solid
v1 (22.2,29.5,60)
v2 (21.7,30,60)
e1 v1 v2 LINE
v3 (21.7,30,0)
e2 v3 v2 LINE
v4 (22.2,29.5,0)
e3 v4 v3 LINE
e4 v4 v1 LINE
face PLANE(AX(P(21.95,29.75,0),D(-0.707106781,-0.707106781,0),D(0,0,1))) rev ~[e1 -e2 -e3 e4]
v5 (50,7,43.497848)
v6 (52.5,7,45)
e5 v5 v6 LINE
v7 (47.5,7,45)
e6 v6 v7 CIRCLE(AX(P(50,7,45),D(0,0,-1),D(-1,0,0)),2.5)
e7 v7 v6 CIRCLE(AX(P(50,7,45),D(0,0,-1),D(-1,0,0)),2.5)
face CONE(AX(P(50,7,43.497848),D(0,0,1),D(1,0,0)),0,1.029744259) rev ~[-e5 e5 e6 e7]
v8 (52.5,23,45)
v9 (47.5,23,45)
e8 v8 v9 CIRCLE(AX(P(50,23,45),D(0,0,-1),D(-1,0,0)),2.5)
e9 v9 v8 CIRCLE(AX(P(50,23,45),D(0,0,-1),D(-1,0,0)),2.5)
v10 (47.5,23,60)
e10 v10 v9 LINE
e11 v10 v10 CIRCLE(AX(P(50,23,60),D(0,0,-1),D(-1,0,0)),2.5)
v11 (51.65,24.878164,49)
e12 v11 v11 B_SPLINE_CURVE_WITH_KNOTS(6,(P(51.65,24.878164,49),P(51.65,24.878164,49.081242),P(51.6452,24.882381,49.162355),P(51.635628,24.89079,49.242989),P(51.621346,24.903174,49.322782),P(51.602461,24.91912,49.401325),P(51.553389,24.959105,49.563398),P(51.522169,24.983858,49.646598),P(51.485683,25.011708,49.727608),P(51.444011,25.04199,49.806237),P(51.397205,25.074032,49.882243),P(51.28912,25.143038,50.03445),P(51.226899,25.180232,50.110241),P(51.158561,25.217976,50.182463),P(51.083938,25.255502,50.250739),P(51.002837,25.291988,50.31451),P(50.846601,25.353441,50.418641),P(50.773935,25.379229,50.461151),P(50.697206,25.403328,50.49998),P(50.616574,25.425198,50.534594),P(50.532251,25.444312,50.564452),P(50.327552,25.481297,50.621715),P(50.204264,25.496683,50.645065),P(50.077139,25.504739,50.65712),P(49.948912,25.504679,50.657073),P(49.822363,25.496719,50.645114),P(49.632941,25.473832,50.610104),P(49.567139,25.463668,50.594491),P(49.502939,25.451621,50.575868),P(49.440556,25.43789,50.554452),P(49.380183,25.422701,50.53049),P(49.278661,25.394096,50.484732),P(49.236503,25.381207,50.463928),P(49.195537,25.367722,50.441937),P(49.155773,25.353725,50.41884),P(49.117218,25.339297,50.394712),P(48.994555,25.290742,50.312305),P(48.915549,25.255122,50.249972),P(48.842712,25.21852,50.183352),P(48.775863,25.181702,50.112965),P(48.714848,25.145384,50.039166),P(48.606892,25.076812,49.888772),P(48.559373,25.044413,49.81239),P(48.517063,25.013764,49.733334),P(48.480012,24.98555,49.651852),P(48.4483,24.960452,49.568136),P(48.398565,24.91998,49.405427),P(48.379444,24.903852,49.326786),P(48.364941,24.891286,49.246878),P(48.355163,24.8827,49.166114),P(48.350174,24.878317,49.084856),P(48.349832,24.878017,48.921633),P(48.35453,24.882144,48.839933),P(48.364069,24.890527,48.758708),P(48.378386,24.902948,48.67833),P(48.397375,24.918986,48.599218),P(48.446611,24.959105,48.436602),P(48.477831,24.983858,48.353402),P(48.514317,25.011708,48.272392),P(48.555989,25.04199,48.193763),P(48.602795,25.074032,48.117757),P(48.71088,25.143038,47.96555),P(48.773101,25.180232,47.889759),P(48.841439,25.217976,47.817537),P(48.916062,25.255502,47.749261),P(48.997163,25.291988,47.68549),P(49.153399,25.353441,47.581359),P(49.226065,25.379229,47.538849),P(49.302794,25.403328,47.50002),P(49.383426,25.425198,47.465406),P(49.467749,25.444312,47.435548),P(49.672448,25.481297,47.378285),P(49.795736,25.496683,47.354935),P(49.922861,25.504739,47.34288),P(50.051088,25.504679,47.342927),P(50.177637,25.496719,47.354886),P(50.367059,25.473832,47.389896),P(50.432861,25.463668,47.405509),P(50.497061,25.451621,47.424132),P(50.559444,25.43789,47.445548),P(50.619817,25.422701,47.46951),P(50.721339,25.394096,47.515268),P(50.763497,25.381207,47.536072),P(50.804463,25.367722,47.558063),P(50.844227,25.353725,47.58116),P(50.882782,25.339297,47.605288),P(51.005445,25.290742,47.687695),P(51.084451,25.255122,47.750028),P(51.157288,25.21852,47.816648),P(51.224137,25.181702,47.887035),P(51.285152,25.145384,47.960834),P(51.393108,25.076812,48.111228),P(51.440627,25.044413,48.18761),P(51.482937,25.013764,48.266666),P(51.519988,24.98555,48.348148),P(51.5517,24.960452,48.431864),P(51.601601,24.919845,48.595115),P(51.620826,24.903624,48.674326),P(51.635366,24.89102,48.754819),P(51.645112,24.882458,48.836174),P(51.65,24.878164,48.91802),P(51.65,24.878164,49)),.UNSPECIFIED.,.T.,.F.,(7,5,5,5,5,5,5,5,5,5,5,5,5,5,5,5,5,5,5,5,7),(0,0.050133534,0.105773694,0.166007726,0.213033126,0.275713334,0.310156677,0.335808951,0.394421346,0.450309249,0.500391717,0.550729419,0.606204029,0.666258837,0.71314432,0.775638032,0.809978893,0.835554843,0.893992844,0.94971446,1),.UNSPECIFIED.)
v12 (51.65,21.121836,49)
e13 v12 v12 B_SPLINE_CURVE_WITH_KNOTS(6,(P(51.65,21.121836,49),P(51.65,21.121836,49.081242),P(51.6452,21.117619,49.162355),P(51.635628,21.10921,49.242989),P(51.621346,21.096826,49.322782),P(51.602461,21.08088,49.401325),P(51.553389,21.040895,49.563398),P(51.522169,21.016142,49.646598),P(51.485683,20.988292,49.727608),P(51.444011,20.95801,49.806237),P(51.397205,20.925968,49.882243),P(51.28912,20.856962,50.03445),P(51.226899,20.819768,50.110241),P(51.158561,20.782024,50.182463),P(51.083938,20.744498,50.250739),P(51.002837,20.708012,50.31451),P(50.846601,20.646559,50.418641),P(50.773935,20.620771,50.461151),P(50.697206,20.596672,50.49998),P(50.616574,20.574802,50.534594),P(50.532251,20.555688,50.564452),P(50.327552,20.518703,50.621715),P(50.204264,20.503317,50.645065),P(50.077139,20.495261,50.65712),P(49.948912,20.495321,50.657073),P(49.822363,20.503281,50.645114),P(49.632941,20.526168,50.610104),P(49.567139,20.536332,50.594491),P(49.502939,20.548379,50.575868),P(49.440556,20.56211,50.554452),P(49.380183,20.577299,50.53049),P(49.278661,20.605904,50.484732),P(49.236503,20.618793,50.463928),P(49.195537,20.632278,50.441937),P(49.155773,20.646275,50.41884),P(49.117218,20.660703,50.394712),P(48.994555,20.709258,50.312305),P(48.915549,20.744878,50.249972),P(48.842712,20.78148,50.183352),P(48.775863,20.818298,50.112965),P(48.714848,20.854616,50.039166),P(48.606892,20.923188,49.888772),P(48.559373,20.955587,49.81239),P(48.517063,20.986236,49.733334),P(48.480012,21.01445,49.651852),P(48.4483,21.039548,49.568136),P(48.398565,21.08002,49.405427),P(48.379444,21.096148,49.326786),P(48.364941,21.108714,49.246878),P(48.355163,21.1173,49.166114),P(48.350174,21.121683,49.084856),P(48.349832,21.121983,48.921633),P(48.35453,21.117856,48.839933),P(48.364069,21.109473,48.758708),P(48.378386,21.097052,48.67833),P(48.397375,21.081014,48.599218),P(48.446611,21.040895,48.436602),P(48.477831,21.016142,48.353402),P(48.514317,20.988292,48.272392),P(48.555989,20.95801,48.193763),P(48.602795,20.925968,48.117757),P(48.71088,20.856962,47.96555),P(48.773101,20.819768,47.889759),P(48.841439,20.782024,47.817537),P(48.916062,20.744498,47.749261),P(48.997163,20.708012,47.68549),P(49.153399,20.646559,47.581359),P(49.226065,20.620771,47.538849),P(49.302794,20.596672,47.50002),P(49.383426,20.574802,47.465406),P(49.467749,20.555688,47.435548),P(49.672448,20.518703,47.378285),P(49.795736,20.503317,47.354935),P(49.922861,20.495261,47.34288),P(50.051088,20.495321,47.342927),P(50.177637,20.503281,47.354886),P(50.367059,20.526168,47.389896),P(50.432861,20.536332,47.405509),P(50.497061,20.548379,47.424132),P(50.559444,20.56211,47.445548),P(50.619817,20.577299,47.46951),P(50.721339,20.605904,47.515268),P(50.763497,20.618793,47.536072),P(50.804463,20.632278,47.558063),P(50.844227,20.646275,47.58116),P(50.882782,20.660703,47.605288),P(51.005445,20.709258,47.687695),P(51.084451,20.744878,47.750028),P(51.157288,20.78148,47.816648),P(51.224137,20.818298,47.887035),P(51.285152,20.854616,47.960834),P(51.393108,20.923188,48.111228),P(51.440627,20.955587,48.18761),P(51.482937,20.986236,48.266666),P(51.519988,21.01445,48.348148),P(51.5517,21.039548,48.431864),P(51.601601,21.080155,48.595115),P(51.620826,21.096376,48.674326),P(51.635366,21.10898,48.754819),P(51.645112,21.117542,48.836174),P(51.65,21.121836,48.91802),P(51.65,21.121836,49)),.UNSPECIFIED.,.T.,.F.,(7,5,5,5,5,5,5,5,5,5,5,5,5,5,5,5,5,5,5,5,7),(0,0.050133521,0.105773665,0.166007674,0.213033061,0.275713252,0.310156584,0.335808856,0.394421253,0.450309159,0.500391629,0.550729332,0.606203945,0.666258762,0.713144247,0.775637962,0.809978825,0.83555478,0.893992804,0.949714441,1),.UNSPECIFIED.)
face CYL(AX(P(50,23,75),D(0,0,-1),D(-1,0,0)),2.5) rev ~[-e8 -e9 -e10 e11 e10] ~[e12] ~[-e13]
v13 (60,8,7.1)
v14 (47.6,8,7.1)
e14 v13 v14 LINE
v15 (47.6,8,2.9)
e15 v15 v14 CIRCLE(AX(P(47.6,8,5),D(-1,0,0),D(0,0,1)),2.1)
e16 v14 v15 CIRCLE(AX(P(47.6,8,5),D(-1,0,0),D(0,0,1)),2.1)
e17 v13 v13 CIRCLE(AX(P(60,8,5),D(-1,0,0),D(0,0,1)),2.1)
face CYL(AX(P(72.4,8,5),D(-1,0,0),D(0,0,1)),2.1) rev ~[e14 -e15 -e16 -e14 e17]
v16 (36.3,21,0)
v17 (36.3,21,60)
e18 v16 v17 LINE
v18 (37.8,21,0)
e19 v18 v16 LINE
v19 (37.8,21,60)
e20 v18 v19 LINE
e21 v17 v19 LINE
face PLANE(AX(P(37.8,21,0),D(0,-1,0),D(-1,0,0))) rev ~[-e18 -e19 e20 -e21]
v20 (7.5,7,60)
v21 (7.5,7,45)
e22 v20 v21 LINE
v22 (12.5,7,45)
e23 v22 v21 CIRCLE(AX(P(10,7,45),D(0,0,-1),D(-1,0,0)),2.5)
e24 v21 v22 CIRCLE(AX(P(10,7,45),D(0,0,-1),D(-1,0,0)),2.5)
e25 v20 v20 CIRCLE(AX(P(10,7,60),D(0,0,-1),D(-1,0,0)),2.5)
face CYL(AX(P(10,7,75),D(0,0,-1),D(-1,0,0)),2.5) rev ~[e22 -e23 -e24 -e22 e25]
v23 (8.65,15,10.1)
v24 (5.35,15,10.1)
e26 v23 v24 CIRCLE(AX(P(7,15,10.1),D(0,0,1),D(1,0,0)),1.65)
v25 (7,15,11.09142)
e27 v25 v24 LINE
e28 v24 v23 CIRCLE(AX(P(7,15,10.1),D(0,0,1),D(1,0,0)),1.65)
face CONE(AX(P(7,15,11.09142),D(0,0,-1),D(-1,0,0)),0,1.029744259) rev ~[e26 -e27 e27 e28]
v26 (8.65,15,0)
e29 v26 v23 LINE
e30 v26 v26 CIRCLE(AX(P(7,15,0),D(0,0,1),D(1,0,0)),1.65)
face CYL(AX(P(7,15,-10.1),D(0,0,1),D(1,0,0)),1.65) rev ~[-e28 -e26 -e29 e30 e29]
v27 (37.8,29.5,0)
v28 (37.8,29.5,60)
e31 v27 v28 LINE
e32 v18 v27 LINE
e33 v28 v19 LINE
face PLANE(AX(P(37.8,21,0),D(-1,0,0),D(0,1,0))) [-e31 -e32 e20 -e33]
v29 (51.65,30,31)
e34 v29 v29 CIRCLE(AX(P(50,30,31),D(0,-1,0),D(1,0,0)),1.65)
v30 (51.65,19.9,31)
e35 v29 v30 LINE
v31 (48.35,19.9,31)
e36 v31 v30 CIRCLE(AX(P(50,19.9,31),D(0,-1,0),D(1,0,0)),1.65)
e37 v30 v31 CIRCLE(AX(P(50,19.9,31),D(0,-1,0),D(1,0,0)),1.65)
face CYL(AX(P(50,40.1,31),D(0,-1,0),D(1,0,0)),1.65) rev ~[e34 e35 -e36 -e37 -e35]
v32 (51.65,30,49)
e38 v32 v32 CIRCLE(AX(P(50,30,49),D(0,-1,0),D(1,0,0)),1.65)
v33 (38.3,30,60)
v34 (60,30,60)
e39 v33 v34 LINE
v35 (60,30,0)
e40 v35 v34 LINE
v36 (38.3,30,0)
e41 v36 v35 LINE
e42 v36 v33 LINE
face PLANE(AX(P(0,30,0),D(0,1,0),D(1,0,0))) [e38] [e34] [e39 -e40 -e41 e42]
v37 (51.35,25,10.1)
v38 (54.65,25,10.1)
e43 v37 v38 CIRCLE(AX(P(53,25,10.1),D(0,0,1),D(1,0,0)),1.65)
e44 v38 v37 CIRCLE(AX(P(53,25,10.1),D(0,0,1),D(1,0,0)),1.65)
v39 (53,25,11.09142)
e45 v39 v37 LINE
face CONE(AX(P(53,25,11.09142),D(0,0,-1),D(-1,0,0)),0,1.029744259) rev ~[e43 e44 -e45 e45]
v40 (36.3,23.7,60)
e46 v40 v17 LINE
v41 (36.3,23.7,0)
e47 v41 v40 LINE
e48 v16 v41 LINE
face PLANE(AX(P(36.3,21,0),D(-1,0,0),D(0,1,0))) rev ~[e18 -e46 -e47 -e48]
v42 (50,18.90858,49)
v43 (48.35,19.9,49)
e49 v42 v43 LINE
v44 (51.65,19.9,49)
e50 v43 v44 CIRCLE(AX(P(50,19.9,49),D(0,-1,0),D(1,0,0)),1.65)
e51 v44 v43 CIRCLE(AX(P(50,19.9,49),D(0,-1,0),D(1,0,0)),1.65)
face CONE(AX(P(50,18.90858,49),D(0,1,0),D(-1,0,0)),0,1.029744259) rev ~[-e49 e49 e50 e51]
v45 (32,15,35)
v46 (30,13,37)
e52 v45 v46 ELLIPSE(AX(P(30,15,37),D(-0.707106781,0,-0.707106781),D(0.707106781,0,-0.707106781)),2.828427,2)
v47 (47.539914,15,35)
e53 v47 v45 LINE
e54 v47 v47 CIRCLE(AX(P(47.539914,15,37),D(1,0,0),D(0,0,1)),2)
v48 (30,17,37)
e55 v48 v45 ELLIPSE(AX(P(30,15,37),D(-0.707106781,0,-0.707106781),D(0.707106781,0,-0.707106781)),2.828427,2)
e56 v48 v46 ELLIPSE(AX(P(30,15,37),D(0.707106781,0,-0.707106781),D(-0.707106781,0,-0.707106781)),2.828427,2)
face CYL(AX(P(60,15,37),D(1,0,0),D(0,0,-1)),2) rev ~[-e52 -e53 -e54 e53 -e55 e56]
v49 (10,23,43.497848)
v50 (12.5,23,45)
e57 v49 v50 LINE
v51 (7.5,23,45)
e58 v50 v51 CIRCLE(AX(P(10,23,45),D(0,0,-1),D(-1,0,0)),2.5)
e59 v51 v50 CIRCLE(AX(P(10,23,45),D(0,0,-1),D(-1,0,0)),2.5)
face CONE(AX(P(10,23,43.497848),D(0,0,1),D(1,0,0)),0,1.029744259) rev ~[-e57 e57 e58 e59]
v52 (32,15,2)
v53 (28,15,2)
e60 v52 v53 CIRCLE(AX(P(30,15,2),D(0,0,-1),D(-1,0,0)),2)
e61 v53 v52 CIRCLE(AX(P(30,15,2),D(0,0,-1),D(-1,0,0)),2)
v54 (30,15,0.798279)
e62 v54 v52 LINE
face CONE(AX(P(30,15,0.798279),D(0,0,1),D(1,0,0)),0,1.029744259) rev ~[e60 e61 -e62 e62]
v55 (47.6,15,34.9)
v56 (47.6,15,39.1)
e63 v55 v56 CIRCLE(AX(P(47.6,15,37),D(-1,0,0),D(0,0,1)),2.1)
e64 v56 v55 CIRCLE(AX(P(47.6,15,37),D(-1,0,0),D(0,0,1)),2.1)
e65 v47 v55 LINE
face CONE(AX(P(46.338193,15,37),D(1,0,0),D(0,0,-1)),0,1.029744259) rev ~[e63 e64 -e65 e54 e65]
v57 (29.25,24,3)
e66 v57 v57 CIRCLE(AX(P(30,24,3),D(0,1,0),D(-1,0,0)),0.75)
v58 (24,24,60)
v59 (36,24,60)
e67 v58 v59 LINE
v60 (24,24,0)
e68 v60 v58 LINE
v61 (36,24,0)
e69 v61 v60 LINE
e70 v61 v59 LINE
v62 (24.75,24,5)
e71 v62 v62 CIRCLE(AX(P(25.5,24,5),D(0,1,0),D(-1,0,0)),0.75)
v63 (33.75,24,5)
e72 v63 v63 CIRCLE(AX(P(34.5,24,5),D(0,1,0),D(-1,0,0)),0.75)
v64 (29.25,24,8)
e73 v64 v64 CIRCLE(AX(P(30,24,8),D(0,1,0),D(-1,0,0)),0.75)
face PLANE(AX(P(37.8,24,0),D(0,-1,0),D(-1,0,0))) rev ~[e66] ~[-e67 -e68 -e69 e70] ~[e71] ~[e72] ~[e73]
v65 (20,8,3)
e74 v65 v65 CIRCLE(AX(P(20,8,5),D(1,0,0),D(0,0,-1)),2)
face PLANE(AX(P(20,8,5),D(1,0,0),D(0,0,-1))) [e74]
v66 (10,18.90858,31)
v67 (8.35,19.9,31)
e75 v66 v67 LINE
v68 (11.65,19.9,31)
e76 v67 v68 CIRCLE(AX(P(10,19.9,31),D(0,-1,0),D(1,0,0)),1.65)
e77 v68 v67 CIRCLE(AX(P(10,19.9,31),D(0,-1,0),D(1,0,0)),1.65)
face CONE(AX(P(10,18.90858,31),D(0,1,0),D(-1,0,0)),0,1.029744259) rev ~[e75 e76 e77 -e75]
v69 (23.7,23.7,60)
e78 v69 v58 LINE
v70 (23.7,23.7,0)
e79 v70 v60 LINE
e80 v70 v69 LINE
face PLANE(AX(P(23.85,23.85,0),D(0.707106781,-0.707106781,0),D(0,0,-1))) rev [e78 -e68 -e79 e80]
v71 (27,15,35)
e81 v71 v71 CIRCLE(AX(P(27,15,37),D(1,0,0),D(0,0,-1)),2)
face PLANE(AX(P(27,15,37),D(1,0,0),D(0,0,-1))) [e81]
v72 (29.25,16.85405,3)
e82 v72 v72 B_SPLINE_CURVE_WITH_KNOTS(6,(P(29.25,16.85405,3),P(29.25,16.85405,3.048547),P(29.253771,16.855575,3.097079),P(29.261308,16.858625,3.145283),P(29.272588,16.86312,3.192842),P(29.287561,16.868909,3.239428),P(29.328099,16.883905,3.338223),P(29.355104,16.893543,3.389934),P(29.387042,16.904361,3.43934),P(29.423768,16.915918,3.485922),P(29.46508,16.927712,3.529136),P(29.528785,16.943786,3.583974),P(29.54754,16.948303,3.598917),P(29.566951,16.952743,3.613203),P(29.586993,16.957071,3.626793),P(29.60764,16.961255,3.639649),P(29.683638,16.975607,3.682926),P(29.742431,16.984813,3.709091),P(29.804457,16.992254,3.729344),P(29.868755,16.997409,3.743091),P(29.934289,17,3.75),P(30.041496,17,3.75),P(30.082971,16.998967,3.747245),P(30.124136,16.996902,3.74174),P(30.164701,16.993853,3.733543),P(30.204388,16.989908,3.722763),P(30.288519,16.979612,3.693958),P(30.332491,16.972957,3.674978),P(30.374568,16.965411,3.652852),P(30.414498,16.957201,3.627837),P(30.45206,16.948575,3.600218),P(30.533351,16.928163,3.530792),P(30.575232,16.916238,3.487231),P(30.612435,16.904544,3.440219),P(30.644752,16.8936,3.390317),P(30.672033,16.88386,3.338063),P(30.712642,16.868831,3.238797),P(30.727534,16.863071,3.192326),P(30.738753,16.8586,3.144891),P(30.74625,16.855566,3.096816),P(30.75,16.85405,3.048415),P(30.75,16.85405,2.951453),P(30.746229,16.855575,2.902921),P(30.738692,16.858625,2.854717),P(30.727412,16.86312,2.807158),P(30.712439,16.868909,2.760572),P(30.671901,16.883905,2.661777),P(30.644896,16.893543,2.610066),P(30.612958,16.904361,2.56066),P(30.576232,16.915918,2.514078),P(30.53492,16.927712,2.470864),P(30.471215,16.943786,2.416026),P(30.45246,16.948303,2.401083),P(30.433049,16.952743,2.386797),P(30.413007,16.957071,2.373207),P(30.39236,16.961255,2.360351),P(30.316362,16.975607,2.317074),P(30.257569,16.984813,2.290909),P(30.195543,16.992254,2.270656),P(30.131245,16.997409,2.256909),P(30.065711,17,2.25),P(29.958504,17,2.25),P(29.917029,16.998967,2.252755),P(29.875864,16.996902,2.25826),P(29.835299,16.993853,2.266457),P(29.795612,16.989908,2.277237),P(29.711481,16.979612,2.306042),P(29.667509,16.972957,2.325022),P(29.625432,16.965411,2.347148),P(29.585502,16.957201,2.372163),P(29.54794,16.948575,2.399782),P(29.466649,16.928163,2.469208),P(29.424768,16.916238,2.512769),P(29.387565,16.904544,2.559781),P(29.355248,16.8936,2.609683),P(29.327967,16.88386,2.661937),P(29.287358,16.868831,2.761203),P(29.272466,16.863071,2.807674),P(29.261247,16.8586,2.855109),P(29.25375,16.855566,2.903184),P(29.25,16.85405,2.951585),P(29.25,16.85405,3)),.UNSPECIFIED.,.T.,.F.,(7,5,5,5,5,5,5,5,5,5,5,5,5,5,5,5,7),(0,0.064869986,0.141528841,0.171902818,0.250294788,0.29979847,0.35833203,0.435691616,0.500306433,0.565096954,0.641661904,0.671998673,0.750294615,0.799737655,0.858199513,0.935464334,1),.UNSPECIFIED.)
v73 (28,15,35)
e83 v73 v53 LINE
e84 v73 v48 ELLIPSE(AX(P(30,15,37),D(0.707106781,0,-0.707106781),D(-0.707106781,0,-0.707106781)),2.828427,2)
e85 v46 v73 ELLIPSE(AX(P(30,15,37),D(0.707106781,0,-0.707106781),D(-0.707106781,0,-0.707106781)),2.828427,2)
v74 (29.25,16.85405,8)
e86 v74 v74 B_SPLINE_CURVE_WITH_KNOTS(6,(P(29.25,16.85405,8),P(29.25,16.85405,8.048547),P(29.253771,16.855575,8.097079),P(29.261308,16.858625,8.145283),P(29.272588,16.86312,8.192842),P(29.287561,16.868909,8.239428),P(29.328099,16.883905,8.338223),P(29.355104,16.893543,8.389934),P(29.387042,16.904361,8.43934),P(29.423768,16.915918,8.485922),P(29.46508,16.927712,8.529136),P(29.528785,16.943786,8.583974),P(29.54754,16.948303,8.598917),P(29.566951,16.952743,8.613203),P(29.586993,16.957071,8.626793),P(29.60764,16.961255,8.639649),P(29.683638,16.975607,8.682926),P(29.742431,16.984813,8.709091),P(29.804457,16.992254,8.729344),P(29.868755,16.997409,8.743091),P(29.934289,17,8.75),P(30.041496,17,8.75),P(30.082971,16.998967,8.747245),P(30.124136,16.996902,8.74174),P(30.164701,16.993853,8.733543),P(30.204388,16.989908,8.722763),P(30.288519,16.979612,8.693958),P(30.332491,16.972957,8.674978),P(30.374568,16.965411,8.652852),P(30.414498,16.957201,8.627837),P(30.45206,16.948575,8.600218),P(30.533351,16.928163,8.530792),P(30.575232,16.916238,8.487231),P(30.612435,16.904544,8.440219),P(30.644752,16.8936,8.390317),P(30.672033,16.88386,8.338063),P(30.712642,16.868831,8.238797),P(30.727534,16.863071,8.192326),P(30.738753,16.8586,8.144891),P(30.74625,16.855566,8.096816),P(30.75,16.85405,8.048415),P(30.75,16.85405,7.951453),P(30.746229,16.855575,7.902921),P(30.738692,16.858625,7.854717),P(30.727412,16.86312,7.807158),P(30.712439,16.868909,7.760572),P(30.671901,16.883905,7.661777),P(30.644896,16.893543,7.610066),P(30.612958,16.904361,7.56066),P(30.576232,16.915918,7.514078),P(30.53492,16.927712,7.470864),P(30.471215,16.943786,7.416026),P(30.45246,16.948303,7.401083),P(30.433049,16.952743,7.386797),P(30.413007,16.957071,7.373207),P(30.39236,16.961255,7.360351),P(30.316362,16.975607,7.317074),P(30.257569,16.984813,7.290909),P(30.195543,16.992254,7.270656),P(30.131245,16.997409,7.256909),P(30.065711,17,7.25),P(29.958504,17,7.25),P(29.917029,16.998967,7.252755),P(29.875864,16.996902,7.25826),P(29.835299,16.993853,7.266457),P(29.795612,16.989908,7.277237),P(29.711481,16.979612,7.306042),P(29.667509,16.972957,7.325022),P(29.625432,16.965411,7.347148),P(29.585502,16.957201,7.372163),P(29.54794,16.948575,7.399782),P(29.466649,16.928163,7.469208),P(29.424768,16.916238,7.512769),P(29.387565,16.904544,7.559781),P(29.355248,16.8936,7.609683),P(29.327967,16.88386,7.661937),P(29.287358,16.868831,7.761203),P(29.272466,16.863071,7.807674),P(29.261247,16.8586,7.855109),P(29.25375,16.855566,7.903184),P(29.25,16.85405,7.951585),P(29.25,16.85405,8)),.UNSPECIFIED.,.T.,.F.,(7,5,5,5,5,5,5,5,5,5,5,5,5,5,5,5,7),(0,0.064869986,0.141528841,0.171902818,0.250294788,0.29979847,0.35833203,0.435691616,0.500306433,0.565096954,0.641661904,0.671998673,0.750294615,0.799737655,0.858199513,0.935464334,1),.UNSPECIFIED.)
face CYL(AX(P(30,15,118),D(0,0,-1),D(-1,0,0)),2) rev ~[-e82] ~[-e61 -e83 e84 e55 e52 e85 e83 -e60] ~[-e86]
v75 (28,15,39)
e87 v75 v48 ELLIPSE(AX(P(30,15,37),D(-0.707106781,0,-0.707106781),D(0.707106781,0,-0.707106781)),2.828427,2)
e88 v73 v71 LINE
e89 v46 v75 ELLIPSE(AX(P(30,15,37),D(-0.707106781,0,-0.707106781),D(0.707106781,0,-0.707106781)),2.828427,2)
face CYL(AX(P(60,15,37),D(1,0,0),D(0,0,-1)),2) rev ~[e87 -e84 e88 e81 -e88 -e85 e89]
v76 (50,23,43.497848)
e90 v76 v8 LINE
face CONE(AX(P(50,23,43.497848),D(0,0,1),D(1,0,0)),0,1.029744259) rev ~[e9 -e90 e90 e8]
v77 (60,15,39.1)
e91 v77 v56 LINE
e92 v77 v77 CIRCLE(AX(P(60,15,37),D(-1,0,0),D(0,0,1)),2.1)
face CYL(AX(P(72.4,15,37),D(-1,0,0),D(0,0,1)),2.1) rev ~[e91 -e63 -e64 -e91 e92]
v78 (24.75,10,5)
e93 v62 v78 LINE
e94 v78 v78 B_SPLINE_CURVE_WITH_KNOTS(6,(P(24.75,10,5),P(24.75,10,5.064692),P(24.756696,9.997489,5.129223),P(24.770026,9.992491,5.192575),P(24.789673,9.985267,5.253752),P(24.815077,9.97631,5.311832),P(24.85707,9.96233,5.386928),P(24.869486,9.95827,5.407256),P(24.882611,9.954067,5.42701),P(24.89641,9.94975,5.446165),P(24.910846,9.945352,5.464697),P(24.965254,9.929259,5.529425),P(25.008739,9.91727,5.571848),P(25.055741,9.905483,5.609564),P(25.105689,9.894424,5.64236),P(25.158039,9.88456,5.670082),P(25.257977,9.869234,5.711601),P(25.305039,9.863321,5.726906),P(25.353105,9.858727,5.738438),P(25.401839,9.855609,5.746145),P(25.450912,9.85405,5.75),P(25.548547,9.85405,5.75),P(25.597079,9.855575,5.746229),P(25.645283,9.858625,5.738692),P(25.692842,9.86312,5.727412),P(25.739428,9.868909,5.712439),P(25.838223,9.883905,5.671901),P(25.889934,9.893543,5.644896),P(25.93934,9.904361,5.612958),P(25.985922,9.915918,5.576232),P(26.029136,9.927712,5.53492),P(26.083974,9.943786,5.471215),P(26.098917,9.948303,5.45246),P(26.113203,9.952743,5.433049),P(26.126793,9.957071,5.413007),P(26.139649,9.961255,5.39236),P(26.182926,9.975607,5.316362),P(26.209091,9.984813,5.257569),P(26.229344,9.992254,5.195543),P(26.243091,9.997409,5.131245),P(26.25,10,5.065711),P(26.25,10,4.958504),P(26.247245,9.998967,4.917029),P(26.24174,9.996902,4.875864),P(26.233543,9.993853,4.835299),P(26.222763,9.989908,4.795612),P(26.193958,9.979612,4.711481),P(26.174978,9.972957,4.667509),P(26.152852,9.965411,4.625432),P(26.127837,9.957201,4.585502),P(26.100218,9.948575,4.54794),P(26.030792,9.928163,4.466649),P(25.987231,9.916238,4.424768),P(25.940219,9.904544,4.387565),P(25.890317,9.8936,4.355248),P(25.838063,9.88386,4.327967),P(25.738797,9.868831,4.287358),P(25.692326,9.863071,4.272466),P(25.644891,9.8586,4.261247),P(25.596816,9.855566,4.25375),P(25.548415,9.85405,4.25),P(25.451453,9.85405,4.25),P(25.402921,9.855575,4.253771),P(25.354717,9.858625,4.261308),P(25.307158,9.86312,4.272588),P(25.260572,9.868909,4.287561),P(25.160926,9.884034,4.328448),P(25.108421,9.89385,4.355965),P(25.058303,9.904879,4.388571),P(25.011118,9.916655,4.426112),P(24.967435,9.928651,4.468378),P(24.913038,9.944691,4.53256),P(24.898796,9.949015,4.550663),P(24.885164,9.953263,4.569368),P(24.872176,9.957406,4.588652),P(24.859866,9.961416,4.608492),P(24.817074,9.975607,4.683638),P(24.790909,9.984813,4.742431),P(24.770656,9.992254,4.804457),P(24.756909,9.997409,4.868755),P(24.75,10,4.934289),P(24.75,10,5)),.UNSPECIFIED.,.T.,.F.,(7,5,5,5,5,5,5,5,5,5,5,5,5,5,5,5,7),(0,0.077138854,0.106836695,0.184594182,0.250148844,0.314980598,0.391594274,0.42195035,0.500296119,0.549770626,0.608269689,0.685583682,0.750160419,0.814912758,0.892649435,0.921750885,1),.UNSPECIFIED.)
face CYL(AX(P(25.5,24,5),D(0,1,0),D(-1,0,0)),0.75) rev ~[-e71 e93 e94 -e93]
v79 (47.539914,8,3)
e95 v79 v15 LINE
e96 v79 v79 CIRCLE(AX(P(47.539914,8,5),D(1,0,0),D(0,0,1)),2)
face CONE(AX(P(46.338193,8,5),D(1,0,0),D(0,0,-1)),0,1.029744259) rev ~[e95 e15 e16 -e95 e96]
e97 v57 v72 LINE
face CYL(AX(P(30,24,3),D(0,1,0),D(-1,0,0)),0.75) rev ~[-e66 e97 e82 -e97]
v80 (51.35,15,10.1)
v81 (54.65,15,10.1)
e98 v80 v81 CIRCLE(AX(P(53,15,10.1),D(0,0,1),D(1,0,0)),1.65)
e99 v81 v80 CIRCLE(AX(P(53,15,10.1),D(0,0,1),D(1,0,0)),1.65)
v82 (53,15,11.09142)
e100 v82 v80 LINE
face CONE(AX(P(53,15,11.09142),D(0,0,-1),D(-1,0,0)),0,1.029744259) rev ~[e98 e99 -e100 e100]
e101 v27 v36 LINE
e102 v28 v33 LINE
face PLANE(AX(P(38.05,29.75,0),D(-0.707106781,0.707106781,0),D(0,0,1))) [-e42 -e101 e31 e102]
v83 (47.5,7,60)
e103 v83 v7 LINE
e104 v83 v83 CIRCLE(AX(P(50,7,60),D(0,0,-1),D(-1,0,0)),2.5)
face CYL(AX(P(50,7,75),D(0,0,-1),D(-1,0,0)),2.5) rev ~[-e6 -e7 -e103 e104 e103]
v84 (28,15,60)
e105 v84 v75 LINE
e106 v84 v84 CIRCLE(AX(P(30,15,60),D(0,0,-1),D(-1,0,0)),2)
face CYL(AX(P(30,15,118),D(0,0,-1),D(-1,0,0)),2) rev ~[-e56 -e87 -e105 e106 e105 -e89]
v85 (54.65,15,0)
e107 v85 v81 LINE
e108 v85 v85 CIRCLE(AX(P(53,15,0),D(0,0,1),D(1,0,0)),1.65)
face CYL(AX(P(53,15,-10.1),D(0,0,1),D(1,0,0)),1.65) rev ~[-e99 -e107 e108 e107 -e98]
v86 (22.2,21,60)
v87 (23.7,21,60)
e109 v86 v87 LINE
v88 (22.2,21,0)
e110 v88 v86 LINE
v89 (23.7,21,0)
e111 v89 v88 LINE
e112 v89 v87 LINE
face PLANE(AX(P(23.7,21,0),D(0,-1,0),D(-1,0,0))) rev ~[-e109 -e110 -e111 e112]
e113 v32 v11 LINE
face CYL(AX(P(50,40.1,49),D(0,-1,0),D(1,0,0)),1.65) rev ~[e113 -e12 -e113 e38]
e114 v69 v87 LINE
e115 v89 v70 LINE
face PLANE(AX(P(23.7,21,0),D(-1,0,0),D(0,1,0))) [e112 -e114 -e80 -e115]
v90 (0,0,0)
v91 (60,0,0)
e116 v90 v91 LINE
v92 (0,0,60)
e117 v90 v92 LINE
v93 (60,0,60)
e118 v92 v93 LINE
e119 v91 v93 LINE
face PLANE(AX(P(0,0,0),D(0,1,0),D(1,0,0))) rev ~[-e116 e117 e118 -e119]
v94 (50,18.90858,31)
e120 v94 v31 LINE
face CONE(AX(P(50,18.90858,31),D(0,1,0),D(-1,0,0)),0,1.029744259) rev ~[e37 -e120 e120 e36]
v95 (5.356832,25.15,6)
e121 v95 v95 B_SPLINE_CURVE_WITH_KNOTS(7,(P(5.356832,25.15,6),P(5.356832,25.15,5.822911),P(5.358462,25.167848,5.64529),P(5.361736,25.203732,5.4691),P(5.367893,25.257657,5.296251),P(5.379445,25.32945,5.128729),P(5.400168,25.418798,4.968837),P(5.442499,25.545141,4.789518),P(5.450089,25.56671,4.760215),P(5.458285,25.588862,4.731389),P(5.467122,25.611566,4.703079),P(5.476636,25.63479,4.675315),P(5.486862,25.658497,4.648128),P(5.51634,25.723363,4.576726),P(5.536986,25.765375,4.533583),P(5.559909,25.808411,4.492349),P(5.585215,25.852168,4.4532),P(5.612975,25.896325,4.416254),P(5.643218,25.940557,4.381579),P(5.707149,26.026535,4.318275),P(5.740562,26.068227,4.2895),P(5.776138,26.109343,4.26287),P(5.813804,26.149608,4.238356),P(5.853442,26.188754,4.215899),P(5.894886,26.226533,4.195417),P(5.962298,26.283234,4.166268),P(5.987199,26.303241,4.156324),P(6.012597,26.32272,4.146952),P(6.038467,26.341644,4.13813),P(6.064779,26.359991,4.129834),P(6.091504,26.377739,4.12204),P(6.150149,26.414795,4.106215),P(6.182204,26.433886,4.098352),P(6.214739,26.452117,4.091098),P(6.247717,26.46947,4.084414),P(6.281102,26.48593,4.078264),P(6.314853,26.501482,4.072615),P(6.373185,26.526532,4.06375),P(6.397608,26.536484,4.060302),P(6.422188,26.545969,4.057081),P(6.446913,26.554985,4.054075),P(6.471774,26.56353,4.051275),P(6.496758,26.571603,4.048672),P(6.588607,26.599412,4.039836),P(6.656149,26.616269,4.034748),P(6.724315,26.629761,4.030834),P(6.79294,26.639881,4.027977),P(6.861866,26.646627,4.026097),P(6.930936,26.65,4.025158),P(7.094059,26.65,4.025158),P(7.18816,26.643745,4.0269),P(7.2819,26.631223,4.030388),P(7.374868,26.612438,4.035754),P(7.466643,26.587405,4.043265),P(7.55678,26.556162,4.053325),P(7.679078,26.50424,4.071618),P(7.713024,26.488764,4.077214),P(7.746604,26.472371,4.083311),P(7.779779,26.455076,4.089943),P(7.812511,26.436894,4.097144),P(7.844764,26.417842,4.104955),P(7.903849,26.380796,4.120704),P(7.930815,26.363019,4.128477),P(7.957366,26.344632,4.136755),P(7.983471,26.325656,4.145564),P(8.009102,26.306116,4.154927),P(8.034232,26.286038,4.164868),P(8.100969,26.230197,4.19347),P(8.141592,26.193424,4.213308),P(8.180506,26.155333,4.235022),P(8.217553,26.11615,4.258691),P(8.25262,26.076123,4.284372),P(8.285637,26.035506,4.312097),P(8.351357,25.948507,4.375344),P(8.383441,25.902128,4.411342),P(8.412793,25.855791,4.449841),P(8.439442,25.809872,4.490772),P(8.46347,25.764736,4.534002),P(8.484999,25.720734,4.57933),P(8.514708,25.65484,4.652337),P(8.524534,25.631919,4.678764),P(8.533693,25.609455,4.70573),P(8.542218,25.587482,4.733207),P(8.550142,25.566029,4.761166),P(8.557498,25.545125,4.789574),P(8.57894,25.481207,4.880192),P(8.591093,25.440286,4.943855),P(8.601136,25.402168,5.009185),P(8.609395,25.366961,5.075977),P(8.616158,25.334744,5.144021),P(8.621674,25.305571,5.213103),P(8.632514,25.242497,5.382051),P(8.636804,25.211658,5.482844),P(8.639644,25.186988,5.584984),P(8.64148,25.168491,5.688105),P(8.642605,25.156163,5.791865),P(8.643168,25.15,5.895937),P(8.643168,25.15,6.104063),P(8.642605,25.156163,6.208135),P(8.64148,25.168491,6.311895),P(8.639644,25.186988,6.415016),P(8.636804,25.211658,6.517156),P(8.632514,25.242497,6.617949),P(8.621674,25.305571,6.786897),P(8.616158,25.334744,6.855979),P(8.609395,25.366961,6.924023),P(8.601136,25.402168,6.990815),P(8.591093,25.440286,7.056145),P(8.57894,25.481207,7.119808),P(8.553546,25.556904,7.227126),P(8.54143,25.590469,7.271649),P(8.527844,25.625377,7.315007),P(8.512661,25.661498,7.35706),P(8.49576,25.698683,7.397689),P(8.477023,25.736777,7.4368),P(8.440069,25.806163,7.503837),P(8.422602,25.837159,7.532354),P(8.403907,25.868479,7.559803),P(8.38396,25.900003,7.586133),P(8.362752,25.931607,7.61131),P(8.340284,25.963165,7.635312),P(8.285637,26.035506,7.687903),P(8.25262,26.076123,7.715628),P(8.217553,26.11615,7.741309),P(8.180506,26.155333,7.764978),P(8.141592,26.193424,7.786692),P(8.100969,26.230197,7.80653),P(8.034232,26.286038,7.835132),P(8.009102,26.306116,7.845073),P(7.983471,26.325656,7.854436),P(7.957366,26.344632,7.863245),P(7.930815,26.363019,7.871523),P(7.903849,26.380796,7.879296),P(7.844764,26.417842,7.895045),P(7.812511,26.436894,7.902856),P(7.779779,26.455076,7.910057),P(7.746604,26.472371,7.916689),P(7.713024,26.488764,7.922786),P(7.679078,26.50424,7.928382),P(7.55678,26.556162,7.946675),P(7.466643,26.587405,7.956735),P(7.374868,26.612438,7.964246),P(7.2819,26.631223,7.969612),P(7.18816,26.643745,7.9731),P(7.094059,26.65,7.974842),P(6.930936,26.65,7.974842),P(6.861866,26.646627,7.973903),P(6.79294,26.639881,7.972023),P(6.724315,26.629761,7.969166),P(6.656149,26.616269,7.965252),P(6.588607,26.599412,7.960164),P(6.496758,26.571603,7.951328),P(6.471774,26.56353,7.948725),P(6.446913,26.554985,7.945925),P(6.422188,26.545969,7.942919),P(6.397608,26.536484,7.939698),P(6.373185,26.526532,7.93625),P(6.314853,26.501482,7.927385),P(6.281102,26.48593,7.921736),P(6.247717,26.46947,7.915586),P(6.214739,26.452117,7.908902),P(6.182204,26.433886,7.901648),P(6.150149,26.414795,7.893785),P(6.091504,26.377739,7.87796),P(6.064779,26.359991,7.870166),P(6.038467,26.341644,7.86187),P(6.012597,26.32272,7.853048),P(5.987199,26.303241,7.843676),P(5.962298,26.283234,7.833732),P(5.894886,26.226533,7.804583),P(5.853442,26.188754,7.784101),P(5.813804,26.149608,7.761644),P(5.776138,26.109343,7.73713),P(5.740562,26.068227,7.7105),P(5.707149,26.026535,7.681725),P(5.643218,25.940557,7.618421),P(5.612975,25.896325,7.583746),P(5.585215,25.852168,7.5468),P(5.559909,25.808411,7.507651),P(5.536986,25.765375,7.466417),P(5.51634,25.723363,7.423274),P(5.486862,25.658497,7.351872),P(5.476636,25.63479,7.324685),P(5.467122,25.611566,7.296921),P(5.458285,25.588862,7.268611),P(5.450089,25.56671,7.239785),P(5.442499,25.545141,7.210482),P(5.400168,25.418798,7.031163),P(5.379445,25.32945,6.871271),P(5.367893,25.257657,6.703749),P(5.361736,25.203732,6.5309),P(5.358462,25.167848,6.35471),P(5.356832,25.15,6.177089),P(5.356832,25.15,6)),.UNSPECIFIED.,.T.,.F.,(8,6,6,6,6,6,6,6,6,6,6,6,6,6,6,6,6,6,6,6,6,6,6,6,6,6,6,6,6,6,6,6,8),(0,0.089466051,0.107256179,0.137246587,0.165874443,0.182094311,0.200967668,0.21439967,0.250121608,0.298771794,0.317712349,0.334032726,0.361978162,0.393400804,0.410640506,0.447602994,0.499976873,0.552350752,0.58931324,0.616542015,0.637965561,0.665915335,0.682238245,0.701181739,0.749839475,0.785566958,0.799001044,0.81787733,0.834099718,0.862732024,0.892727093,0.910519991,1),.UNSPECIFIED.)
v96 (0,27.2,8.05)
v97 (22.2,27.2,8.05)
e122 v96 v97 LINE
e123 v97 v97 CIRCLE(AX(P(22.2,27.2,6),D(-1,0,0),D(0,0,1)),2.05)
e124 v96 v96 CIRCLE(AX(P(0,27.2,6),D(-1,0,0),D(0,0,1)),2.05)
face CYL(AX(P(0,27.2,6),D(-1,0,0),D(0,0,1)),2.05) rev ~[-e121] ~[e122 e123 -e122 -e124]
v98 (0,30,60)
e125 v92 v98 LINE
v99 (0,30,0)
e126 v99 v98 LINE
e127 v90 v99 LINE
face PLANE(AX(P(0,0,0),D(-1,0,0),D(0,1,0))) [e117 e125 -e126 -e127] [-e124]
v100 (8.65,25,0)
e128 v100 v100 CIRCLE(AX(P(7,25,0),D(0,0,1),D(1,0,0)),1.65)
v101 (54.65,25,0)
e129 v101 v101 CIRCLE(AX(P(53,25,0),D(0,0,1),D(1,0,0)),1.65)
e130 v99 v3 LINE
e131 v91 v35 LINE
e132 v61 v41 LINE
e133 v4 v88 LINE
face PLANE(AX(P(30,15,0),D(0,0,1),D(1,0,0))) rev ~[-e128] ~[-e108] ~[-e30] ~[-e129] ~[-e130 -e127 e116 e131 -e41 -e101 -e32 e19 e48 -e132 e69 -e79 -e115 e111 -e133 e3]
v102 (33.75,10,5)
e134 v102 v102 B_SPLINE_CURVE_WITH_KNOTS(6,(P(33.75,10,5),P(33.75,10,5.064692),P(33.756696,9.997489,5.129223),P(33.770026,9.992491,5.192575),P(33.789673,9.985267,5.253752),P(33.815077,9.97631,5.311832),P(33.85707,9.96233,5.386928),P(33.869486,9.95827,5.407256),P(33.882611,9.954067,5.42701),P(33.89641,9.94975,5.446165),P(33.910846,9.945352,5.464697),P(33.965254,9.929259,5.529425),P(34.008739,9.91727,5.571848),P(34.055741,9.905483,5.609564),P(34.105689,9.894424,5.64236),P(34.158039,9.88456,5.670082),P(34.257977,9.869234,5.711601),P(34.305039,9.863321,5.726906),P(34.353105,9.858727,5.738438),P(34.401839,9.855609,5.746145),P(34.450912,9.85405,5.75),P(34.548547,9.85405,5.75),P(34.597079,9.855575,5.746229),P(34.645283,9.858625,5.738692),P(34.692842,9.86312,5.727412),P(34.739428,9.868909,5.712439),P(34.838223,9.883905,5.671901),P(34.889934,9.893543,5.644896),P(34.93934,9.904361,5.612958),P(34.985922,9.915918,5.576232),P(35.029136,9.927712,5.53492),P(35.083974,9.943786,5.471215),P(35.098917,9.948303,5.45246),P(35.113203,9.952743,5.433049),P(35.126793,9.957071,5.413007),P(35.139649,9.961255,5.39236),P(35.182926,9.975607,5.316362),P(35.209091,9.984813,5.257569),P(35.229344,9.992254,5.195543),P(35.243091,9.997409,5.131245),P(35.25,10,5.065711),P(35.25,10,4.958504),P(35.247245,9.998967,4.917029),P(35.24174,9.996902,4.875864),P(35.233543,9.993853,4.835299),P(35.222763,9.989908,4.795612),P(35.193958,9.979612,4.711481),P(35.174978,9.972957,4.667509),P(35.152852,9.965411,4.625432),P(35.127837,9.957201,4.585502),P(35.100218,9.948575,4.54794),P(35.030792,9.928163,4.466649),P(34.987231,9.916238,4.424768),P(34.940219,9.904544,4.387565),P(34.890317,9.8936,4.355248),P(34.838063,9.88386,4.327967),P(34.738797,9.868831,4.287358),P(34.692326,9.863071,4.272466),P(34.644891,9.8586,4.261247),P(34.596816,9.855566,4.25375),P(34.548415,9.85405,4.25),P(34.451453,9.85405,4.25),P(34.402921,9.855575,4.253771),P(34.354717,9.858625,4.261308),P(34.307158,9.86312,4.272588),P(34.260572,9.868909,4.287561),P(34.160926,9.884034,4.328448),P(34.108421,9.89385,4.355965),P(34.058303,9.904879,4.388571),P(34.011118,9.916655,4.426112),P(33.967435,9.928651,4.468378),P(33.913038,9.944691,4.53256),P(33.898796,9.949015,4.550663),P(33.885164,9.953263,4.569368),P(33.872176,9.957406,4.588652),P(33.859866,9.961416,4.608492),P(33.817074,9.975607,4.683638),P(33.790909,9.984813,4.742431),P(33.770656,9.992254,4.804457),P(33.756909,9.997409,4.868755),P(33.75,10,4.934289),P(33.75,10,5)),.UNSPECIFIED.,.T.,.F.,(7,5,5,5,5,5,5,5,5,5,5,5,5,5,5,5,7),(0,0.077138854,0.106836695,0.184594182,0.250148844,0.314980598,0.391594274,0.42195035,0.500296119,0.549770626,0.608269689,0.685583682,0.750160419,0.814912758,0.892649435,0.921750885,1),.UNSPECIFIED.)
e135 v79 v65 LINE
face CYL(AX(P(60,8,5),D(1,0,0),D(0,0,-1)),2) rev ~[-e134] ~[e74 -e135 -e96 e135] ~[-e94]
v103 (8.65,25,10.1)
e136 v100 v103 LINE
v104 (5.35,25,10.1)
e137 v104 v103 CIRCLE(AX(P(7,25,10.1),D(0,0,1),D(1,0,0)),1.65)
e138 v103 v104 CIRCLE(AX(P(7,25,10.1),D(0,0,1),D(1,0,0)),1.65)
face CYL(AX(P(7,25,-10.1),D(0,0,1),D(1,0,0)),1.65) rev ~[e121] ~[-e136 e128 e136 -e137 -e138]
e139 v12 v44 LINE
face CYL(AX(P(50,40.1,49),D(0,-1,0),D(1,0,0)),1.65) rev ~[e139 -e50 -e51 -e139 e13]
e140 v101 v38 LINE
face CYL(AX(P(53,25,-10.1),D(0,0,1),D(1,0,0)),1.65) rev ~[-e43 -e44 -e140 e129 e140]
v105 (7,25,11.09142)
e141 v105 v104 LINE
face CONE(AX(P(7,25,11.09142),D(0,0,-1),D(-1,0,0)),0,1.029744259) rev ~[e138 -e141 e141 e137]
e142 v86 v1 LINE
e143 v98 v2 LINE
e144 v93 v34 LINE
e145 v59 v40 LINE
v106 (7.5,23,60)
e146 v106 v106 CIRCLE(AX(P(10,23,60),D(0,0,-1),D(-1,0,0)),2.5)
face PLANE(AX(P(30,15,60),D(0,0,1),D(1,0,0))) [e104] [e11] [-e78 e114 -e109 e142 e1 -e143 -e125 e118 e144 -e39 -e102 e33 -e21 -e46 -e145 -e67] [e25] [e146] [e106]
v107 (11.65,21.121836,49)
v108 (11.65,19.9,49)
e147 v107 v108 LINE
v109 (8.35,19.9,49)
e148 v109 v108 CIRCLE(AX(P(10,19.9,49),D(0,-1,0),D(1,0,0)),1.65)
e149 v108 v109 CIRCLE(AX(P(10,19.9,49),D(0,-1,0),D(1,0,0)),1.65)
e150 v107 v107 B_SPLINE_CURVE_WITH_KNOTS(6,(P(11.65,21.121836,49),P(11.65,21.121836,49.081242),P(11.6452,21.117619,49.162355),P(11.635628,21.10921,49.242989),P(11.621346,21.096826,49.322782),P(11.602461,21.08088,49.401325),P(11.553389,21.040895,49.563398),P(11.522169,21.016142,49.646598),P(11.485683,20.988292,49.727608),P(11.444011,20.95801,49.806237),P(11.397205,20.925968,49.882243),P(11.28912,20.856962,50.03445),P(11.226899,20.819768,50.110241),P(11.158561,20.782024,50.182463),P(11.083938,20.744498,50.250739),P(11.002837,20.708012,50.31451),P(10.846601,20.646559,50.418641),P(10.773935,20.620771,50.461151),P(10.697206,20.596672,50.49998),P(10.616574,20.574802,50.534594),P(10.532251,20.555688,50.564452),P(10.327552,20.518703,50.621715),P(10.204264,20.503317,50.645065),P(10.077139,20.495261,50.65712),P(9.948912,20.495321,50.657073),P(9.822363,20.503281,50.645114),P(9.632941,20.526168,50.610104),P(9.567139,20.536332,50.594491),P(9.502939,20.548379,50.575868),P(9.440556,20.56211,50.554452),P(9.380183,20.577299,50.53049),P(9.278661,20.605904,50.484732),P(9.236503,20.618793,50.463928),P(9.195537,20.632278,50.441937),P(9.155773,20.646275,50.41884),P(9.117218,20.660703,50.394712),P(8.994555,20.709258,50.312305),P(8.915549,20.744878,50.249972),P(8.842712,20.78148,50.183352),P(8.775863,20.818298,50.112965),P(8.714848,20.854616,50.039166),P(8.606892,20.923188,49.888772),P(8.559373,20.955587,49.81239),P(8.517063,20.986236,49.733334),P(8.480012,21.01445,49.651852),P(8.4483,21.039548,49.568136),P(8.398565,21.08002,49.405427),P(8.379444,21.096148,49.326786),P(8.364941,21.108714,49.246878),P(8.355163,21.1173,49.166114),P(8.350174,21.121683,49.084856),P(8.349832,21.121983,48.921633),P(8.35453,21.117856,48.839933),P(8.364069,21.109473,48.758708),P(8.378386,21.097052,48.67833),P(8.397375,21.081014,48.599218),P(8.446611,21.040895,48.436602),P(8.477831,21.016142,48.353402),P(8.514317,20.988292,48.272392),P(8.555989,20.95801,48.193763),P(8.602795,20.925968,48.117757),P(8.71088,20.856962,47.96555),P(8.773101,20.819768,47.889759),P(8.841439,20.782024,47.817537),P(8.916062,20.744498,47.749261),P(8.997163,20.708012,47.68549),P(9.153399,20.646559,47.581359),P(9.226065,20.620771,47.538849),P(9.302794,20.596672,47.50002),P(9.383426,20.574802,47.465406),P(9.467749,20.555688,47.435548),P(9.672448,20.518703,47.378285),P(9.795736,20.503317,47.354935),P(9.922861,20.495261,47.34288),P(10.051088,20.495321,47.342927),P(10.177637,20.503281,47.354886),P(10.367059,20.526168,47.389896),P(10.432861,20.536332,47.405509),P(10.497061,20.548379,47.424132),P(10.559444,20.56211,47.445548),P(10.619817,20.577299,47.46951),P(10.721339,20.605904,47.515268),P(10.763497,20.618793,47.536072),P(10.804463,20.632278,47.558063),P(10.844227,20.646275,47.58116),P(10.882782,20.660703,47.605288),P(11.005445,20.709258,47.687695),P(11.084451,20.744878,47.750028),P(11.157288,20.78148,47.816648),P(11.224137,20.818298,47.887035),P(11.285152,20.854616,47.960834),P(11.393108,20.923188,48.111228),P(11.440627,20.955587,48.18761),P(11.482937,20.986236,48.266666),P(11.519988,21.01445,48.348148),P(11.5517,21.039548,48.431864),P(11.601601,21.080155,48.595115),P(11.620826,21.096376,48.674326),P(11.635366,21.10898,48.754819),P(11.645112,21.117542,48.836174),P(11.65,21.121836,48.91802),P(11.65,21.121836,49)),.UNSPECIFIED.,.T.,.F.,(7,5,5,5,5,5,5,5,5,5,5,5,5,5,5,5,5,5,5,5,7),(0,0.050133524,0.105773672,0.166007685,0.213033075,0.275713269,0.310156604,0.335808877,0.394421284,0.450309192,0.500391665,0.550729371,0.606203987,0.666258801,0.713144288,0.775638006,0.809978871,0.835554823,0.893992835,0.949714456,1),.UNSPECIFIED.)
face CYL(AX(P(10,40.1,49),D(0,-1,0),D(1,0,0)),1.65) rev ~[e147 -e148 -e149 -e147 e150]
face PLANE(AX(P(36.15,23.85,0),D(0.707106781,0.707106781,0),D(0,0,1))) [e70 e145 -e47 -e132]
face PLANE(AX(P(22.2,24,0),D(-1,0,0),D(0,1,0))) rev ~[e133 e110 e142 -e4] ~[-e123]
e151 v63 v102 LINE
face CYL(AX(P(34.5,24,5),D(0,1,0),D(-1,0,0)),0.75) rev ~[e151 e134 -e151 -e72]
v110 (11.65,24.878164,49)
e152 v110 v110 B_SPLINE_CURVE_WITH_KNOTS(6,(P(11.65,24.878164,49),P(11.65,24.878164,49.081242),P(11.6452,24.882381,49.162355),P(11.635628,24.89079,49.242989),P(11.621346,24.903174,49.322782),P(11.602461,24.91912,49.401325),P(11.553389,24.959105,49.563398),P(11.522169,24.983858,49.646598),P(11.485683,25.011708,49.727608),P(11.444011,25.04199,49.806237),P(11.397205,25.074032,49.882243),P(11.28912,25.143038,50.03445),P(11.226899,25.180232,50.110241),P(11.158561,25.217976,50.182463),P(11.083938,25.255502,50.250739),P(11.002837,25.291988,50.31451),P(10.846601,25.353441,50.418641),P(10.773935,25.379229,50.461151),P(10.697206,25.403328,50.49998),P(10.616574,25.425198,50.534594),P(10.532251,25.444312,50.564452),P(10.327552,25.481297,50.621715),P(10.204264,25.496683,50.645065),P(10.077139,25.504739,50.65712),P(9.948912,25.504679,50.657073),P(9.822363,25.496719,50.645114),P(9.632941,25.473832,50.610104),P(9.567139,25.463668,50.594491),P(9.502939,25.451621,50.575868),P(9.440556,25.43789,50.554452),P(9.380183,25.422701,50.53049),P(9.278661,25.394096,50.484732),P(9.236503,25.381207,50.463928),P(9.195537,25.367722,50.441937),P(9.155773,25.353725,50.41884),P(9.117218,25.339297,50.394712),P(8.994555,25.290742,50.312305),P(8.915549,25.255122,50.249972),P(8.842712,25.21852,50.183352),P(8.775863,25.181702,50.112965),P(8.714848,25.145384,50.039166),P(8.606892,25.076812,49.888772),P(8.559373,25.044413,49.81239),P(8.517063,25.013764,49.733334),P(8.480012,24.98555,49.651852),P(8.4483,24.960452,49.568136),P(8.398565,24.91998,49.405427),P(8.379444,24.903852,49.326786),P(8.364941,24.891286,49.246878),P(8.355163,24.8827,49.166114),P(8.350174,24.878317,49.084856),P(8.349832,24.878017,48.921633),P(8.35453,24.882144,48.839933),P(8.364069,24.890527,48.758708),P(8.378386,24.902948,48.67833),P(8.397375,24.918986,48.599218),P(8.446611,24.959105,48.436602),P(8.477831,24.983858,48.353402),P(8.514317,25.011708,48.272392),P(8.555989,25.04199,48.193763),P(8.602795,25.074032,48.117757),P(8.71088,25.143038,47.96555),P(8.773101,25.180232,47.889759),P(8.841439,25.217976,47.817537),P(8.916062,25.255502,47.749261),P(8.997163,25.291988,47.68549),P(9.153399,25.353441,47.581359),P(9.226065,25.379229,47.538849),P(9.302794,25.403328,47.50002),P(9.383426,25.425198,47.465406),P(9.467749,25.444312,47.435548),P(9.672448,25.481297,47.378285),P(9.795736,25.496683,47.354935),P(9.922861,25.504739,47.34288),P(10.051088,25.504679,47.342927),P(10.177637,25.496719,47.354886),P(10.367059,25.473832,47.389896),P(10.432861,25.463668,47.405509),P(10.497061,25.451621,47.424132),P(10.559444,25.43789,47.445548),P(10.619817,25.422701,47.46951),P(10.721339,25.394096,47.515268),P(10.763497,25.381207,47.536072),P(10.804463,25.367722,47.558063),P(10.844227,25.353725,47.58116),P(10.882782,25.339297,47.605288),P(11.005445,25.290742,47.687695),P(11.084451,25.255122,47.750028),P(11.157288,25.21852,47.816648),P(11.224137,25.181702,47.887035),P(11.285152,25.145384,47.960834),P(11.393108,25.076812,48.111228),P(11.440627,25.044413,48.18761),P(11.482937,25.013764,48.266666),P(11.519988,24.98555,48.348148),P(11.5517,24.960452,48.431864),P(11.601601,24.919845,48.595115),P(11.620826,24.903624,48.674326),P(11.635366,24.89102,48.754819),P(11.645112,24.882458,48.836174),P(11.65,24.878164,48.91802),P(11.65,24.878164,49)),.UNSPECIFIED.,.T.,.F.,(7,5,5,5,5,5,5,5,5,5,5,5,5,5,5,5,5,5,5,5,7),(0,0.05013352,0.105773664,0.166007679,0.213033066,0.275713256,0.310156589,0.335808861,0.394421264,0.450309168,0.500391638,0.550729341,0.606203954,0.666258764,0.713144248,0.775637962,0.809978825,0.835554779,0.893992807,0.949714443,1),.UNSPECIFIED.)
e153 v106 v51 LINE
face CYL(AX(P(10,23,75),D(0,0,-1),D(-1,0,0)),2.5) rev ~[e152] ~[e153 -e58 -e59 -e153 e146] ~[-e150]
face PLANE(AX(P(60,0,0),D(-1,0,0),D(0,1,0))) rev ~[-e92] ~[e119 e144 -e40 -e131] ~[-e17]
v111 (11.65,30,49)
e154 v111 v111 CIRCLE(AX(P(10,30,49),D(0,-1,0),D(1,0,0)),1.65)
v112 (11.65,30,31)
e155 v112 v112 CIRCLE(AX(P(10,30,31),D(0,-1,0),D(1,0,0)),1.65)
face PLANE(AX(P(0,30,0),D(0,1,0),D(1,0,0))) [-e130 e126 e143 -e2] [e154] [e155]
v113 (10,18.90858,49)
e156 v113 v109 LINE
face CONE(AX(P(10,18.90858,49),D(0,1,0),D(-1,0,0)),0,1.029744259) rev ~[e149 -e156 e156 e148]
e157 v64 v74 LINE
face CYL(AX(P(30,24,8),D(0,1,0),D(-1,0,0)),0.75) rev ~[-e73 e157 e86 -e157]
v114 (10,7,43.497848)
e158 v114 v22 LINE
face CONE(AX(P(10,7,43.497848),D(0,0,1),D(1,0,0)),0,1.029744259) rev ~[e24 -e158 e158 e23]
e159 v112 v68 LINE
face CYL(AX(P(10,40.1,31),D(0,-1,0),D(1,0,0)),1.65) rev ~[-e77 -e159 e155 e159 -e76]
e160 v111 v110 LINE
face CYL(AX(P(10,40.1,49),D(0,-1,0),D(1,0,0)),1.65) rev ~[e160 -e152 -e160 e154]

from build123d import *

# Parameters (mm, degrees)
SKETCH_1_W                = 60
SKETCH_1_H                = 30
EXTRUDE_1_DEPTH           = 60
SKETCH_2_W                = 15.6
SKETCH_2_H                = 6
CUT_EXTRUDE_1_DEPTH       = 91
SKETCH_3_W                = 1.5
SKETCH_3_H                = 3
CUT_EXTRUDE_2_DEPTH       = 91
CHAMFER_1_SIZE            = 0.3
CHAMFER_2_SIZE            = 0.5
HOLE_WIZARD_M6_1_D        = 5
HOLE_WIZARD_M6_1_DEPTH    = 15
HOLE_WIZARD_M6_1_TIP      = 1.502151548
SKETCH_6_R                = 2.05
CUT_EXTRUDE_3_DEPTH       = 22.2
HOLE_WIZARD_6_0_6_1_D     = 4
HOLE_WIZARD_6_0_6_1_DEPTH = 58
HOLE_WIZARD_6_0_6_1_TIP   = 1.201721238
HOLE_WIZARD_M5_1_D        = 4.2
HOLE_WIZARD_M5_1_DEPTH    = 12.4
HOLE_WIZARD_M5_1_TIP      = 1.2618073
SKETCH_12_R               = 2
CUT_EXTRUDE_4_DEPTH       = 33
SKETCH_13_R               = 0.75
CUT_EXTRUDE_5_DEPTH       = 10
HOLE_WIZARD_M5_2_D        = 4.2
HOLE_WIZARD_M5_2_DEPTH    = 12.4
HOLE_WIZARD_M5_2_TIP      = 1.2618073
SKETCH_16_R               = 2
CUT_EXTRUDE_6_DEPTH       = 40
SKETCH_17_R               = 0.75
CUT_EXTRUDE_7_DEPTH       = 15
HOLE_WIZARD_M4_1_D        = 3.3
HOLE_WIZARD_M4_1_DEPTH    = 10.1
HOLE_WIZARD_M4_1_TIP      = 0.991420021
HOLE_WIZARD_M4_2_D        = 3.3
HOLE_WIZARD_M4_2_DEPTH    = 10.1
HOLE_WIZARD_M4_2_TIP      = 0.991420021


with BuildPart() as part:
    # 草图1 → 凸台-拉伸1 (new body)
    with BuildSketch(Plane.XY):
        with Locations((30, 15)):
            Rectangle(SKETCH_1_W, SKETCH_1_H)
    extrude(amount=EXTRUDE_1_DEPTH)

    # 草图2 → 切除-拉伸1 (cut, through all)
    with BuildSketch(Plane(origin=(0, 0, 0), x_dir=(-1, 0, 0), z_dir=(0, 0, -1))):
        with Locations((-30, 27)):
            Rectangle(SKETCH_2_W, SKETCH_2_H)
    extrude(amount=-CUT_EXTRUDE_1_DEPTH, mode=Mode.SUBTRACT)

    # 草图3 → 切除-拉伸2 (cut, through all)
    with BuildSketch(Plane(origin=(0, 0, 0), x_dir=(-1, 0, 0), z_dir=(0, 0, -1))):
        with Locations((-37.05, 22.5)):
            Rectangle(SKETCH_3_W, SKETCH_3_H)
        with Locations((-22.95, 22.5)):
            Rectangle(SKETCH_3_W, SKETCH_3_H)
    extrude(amount=-CUT_EXTRUDE_2_DEPTH, mode=Mode.SUBTRACT)

    # 倒角1
    chamfer_1_edges = [part.edges().sort_by_distance(p)[0] for p in [
        (36.3, 24, 30),
        (23.7, 24, 30),
    ]]
    chamfer(chamfer_1_edges, length=CHAMFER_1_SIZE)

    # 倒角2
    chamfer_2_edges = [part.edges().sort_by_distance(p)[0] for p in [
        (22.2, 30, 30),
        (37.8, 30, 30),
    ]]
    chamfer(chamfer_2_edges, length=CHAMFER_2_SIZE)

    # M6 螺纹孔1
    with Locations(Plane.XY.offset(60)):
        with Locations((10, 23), (50, 23), (50, 7), (10, 7)):
            Hole(HOLE_WIZARD_M6_1_D / 2, depth=HOLE_WIZARD_M6_1_DEPTH)
            with Locations((0, 0, -(HOLE_WIZARD_M6_1_DEPTH + HOLE_WIZARD_M6_1_TIP / 2))):  # 118° drill point
                Cone(0, HOLE_WIZARD_M6_1_D / 2, HOLE_WIZARD_M6_1_TIP, mode=Mode.SUBTRACT)

    # 草图6 → 切除-拉伸3 (cut)
    with BuildSketch(Plane.ZY):
        with Locations((6, 27.2)):
            Circle(SKETCH_6_R)
    extrude(amount=-CUT_EXTRUDE_3_DEPTH, mode=Mode.SUBTRACT)

    # Ø6.0 (6) 直径孔1
    with Locations(Plane.XY.offset(60)):
        with Locations((30, 15)):
            Hole(HOLE_WIZARD_6_0_6_1_D / 2, depth=HOLE_WIZARD_6_0_6_1_DEPTH)
            with Locations((0, 0, -(HOLE_WIZARD_6_0_6_1_DEPTH + HOLE_WIZARD_6_0_6_1_TIP / 2))):  # 118° drill point
                Cone(0, HOLE_WIZARD_6_0_6_1_D / 2, HOLE_WIZARD_6_0_6_1_TIP, mode=Mode.SUBTRACT)

    # M5 螺纹孔1
    with Locations(Plane(origin=(60, 0, 0), x_dir=(0, 0, -1), z_dir=(1, 0, 0))):
        with Locations((-37, 15)):
            Hole(HOLE_WIZARD_M5_1_D / 2, depth=HOLE_WIZARD_M5_1_DEPTH)
            with Locations((0, 0, -(HOLE_WIZARD_M5_1_DEPTH + HOLE_WIZARD_M5_1_TIP / 2))):  # 118° drill point
                Cone(0, HOLE_WIZARD_M5_1_D / 2, HOLE_WIZARD_M5_1_TIP, mode=Mode.SUBTRACT)

    # 草图12 → 切除-拉伸4 (cut)
    with BuildSketch(Plane(origin=(60, 0, 0), x_dir=(0, 0, -1), z_dir=(1, 0, 0))):
        with Locations((-37, 15)):
            Circle(SKETCH_12_R)
    extrude(amount=-CUT_EXTRUDE_4_DEPTH, mode=Mode.SUBTRACT)

    # 草图13 → 切除-拉伸5 (cut)
    with BuildSketch(Plane(origin=(0, 24, 0), x_dir=(1, 0, 0), z_dir=(0, 1, 0))):
        with Locations(Location((30, -3, 0), (0, 0, 180))):
            Circle(SKETCH_13_R)
        with Locations(Location((30, -8, 0), (0, 0, 180))):
            Circle(SKETCH_13_R)
    extrude(amount=-CUT_EXTRUDE_5_DEPTH, mode=Mode.SUBTRACT)

    # M5 螺纹孔2
    with Locations(Plane(origin=(60, 0, 0), x_dir=(0, 0, -1), z_dir=(1, 0, 0))):
        with Locations((-5, 8)):
            Hole(HOLE_WIZARD_M5_2_D / 2, depth=HOLE_WIZARD_M5_2_DEPTH)
            with Locations((0, 0, -(HOLE_WIZARD_M5_2_DEPTH + HOLE_WIZARD_M5_2_TIP / 2))):  # 118° drill point
                Cone(0, HOLE_WIZARD_M5_2_D / 2, HOLE_WIZARD_M5_2_TIP, mode=Mode.SUBTRACT)

    # 草图16 → 切除-拉伸6 (cut)
    with BuildSketch(Plane(origin=(60, 0, 0), x_dir=(0, 0, -1), z_dir=(1, 0, 0))):
        with Locations((-5, 8)):
            Circle(SKETCH_16_R)
    extrude(amount=-CUT_EXTRUDE_6_DEPTH, mode=Mode.SUBTRACT)

    # 草图17 → 切除-拉伸7 (cut)
    with BuildSketch(Plane(origin=(0, 24, 0), x_dir=(1, 0, 0), z_dir=(0, 1, 0))):
        with Locations(Location((25.5, -5, 0), (0, 0, 180))):
            Circle(SKETCH_17_R)
        with Locations(Location((34.5, -5, 0), (0, 0, 180))):
            Circle(SKETCH_17_R)
    extrude(amount=-CUT_EXTRUDE_7_DEPTH, mode=Mode.SUBTRACT)

    # M4 螺纹孔1
    with Locations(Plane(origin=(0, 0, 0), x_dir=(-1, 0, 0), z_dir=(0, 0, -1))):
        with Locations((-53, 25), (-53, 15), (-7, 15), (-7, 25)):
            Hole(HOLE_WIZARD_M4_1_D / 2, depth=HOLE_WIZARD_M4_1_DEPTH)
            with Locations((0, 0, -(HOLE_WIZARD_M4_1_DEPTH + HOLE_WIZARD_M4_1_TIP / 2))):  # 118° drill point
                Cone(0, HOLE_WIZARD_M4_1_D / 2, HOLE_WIZARD_M4_1_TIP, mode=Mode.SUBTRACT)

    # M4 螺纹孔2
    with Locations(Plane(origin=(0, 30, 0), x_dir=(-1, 0, 0), z_dir=(0, 1, 0))):
        with Locations((-50, 31), (-50, 49), (-10, 49), (-10, 31)):
            Hole(HOLE_WIZARD_M4_2_D / 2, depth=HOLE_WIZARD_M4_2_DEPTH)
            with Locations((0, 0, -(HOLE_WIZARD_M4_2_DEPTH + HOLE_WIZARD_M4_2_TIP / 2))):  # 118° drill point
                Cone(0, HOLE_WIZARD_M4_2_D / 2, HOLE_WIZARD_M4_2_TIP, mode=Mode.SUBTRACT)


solid = part.part
